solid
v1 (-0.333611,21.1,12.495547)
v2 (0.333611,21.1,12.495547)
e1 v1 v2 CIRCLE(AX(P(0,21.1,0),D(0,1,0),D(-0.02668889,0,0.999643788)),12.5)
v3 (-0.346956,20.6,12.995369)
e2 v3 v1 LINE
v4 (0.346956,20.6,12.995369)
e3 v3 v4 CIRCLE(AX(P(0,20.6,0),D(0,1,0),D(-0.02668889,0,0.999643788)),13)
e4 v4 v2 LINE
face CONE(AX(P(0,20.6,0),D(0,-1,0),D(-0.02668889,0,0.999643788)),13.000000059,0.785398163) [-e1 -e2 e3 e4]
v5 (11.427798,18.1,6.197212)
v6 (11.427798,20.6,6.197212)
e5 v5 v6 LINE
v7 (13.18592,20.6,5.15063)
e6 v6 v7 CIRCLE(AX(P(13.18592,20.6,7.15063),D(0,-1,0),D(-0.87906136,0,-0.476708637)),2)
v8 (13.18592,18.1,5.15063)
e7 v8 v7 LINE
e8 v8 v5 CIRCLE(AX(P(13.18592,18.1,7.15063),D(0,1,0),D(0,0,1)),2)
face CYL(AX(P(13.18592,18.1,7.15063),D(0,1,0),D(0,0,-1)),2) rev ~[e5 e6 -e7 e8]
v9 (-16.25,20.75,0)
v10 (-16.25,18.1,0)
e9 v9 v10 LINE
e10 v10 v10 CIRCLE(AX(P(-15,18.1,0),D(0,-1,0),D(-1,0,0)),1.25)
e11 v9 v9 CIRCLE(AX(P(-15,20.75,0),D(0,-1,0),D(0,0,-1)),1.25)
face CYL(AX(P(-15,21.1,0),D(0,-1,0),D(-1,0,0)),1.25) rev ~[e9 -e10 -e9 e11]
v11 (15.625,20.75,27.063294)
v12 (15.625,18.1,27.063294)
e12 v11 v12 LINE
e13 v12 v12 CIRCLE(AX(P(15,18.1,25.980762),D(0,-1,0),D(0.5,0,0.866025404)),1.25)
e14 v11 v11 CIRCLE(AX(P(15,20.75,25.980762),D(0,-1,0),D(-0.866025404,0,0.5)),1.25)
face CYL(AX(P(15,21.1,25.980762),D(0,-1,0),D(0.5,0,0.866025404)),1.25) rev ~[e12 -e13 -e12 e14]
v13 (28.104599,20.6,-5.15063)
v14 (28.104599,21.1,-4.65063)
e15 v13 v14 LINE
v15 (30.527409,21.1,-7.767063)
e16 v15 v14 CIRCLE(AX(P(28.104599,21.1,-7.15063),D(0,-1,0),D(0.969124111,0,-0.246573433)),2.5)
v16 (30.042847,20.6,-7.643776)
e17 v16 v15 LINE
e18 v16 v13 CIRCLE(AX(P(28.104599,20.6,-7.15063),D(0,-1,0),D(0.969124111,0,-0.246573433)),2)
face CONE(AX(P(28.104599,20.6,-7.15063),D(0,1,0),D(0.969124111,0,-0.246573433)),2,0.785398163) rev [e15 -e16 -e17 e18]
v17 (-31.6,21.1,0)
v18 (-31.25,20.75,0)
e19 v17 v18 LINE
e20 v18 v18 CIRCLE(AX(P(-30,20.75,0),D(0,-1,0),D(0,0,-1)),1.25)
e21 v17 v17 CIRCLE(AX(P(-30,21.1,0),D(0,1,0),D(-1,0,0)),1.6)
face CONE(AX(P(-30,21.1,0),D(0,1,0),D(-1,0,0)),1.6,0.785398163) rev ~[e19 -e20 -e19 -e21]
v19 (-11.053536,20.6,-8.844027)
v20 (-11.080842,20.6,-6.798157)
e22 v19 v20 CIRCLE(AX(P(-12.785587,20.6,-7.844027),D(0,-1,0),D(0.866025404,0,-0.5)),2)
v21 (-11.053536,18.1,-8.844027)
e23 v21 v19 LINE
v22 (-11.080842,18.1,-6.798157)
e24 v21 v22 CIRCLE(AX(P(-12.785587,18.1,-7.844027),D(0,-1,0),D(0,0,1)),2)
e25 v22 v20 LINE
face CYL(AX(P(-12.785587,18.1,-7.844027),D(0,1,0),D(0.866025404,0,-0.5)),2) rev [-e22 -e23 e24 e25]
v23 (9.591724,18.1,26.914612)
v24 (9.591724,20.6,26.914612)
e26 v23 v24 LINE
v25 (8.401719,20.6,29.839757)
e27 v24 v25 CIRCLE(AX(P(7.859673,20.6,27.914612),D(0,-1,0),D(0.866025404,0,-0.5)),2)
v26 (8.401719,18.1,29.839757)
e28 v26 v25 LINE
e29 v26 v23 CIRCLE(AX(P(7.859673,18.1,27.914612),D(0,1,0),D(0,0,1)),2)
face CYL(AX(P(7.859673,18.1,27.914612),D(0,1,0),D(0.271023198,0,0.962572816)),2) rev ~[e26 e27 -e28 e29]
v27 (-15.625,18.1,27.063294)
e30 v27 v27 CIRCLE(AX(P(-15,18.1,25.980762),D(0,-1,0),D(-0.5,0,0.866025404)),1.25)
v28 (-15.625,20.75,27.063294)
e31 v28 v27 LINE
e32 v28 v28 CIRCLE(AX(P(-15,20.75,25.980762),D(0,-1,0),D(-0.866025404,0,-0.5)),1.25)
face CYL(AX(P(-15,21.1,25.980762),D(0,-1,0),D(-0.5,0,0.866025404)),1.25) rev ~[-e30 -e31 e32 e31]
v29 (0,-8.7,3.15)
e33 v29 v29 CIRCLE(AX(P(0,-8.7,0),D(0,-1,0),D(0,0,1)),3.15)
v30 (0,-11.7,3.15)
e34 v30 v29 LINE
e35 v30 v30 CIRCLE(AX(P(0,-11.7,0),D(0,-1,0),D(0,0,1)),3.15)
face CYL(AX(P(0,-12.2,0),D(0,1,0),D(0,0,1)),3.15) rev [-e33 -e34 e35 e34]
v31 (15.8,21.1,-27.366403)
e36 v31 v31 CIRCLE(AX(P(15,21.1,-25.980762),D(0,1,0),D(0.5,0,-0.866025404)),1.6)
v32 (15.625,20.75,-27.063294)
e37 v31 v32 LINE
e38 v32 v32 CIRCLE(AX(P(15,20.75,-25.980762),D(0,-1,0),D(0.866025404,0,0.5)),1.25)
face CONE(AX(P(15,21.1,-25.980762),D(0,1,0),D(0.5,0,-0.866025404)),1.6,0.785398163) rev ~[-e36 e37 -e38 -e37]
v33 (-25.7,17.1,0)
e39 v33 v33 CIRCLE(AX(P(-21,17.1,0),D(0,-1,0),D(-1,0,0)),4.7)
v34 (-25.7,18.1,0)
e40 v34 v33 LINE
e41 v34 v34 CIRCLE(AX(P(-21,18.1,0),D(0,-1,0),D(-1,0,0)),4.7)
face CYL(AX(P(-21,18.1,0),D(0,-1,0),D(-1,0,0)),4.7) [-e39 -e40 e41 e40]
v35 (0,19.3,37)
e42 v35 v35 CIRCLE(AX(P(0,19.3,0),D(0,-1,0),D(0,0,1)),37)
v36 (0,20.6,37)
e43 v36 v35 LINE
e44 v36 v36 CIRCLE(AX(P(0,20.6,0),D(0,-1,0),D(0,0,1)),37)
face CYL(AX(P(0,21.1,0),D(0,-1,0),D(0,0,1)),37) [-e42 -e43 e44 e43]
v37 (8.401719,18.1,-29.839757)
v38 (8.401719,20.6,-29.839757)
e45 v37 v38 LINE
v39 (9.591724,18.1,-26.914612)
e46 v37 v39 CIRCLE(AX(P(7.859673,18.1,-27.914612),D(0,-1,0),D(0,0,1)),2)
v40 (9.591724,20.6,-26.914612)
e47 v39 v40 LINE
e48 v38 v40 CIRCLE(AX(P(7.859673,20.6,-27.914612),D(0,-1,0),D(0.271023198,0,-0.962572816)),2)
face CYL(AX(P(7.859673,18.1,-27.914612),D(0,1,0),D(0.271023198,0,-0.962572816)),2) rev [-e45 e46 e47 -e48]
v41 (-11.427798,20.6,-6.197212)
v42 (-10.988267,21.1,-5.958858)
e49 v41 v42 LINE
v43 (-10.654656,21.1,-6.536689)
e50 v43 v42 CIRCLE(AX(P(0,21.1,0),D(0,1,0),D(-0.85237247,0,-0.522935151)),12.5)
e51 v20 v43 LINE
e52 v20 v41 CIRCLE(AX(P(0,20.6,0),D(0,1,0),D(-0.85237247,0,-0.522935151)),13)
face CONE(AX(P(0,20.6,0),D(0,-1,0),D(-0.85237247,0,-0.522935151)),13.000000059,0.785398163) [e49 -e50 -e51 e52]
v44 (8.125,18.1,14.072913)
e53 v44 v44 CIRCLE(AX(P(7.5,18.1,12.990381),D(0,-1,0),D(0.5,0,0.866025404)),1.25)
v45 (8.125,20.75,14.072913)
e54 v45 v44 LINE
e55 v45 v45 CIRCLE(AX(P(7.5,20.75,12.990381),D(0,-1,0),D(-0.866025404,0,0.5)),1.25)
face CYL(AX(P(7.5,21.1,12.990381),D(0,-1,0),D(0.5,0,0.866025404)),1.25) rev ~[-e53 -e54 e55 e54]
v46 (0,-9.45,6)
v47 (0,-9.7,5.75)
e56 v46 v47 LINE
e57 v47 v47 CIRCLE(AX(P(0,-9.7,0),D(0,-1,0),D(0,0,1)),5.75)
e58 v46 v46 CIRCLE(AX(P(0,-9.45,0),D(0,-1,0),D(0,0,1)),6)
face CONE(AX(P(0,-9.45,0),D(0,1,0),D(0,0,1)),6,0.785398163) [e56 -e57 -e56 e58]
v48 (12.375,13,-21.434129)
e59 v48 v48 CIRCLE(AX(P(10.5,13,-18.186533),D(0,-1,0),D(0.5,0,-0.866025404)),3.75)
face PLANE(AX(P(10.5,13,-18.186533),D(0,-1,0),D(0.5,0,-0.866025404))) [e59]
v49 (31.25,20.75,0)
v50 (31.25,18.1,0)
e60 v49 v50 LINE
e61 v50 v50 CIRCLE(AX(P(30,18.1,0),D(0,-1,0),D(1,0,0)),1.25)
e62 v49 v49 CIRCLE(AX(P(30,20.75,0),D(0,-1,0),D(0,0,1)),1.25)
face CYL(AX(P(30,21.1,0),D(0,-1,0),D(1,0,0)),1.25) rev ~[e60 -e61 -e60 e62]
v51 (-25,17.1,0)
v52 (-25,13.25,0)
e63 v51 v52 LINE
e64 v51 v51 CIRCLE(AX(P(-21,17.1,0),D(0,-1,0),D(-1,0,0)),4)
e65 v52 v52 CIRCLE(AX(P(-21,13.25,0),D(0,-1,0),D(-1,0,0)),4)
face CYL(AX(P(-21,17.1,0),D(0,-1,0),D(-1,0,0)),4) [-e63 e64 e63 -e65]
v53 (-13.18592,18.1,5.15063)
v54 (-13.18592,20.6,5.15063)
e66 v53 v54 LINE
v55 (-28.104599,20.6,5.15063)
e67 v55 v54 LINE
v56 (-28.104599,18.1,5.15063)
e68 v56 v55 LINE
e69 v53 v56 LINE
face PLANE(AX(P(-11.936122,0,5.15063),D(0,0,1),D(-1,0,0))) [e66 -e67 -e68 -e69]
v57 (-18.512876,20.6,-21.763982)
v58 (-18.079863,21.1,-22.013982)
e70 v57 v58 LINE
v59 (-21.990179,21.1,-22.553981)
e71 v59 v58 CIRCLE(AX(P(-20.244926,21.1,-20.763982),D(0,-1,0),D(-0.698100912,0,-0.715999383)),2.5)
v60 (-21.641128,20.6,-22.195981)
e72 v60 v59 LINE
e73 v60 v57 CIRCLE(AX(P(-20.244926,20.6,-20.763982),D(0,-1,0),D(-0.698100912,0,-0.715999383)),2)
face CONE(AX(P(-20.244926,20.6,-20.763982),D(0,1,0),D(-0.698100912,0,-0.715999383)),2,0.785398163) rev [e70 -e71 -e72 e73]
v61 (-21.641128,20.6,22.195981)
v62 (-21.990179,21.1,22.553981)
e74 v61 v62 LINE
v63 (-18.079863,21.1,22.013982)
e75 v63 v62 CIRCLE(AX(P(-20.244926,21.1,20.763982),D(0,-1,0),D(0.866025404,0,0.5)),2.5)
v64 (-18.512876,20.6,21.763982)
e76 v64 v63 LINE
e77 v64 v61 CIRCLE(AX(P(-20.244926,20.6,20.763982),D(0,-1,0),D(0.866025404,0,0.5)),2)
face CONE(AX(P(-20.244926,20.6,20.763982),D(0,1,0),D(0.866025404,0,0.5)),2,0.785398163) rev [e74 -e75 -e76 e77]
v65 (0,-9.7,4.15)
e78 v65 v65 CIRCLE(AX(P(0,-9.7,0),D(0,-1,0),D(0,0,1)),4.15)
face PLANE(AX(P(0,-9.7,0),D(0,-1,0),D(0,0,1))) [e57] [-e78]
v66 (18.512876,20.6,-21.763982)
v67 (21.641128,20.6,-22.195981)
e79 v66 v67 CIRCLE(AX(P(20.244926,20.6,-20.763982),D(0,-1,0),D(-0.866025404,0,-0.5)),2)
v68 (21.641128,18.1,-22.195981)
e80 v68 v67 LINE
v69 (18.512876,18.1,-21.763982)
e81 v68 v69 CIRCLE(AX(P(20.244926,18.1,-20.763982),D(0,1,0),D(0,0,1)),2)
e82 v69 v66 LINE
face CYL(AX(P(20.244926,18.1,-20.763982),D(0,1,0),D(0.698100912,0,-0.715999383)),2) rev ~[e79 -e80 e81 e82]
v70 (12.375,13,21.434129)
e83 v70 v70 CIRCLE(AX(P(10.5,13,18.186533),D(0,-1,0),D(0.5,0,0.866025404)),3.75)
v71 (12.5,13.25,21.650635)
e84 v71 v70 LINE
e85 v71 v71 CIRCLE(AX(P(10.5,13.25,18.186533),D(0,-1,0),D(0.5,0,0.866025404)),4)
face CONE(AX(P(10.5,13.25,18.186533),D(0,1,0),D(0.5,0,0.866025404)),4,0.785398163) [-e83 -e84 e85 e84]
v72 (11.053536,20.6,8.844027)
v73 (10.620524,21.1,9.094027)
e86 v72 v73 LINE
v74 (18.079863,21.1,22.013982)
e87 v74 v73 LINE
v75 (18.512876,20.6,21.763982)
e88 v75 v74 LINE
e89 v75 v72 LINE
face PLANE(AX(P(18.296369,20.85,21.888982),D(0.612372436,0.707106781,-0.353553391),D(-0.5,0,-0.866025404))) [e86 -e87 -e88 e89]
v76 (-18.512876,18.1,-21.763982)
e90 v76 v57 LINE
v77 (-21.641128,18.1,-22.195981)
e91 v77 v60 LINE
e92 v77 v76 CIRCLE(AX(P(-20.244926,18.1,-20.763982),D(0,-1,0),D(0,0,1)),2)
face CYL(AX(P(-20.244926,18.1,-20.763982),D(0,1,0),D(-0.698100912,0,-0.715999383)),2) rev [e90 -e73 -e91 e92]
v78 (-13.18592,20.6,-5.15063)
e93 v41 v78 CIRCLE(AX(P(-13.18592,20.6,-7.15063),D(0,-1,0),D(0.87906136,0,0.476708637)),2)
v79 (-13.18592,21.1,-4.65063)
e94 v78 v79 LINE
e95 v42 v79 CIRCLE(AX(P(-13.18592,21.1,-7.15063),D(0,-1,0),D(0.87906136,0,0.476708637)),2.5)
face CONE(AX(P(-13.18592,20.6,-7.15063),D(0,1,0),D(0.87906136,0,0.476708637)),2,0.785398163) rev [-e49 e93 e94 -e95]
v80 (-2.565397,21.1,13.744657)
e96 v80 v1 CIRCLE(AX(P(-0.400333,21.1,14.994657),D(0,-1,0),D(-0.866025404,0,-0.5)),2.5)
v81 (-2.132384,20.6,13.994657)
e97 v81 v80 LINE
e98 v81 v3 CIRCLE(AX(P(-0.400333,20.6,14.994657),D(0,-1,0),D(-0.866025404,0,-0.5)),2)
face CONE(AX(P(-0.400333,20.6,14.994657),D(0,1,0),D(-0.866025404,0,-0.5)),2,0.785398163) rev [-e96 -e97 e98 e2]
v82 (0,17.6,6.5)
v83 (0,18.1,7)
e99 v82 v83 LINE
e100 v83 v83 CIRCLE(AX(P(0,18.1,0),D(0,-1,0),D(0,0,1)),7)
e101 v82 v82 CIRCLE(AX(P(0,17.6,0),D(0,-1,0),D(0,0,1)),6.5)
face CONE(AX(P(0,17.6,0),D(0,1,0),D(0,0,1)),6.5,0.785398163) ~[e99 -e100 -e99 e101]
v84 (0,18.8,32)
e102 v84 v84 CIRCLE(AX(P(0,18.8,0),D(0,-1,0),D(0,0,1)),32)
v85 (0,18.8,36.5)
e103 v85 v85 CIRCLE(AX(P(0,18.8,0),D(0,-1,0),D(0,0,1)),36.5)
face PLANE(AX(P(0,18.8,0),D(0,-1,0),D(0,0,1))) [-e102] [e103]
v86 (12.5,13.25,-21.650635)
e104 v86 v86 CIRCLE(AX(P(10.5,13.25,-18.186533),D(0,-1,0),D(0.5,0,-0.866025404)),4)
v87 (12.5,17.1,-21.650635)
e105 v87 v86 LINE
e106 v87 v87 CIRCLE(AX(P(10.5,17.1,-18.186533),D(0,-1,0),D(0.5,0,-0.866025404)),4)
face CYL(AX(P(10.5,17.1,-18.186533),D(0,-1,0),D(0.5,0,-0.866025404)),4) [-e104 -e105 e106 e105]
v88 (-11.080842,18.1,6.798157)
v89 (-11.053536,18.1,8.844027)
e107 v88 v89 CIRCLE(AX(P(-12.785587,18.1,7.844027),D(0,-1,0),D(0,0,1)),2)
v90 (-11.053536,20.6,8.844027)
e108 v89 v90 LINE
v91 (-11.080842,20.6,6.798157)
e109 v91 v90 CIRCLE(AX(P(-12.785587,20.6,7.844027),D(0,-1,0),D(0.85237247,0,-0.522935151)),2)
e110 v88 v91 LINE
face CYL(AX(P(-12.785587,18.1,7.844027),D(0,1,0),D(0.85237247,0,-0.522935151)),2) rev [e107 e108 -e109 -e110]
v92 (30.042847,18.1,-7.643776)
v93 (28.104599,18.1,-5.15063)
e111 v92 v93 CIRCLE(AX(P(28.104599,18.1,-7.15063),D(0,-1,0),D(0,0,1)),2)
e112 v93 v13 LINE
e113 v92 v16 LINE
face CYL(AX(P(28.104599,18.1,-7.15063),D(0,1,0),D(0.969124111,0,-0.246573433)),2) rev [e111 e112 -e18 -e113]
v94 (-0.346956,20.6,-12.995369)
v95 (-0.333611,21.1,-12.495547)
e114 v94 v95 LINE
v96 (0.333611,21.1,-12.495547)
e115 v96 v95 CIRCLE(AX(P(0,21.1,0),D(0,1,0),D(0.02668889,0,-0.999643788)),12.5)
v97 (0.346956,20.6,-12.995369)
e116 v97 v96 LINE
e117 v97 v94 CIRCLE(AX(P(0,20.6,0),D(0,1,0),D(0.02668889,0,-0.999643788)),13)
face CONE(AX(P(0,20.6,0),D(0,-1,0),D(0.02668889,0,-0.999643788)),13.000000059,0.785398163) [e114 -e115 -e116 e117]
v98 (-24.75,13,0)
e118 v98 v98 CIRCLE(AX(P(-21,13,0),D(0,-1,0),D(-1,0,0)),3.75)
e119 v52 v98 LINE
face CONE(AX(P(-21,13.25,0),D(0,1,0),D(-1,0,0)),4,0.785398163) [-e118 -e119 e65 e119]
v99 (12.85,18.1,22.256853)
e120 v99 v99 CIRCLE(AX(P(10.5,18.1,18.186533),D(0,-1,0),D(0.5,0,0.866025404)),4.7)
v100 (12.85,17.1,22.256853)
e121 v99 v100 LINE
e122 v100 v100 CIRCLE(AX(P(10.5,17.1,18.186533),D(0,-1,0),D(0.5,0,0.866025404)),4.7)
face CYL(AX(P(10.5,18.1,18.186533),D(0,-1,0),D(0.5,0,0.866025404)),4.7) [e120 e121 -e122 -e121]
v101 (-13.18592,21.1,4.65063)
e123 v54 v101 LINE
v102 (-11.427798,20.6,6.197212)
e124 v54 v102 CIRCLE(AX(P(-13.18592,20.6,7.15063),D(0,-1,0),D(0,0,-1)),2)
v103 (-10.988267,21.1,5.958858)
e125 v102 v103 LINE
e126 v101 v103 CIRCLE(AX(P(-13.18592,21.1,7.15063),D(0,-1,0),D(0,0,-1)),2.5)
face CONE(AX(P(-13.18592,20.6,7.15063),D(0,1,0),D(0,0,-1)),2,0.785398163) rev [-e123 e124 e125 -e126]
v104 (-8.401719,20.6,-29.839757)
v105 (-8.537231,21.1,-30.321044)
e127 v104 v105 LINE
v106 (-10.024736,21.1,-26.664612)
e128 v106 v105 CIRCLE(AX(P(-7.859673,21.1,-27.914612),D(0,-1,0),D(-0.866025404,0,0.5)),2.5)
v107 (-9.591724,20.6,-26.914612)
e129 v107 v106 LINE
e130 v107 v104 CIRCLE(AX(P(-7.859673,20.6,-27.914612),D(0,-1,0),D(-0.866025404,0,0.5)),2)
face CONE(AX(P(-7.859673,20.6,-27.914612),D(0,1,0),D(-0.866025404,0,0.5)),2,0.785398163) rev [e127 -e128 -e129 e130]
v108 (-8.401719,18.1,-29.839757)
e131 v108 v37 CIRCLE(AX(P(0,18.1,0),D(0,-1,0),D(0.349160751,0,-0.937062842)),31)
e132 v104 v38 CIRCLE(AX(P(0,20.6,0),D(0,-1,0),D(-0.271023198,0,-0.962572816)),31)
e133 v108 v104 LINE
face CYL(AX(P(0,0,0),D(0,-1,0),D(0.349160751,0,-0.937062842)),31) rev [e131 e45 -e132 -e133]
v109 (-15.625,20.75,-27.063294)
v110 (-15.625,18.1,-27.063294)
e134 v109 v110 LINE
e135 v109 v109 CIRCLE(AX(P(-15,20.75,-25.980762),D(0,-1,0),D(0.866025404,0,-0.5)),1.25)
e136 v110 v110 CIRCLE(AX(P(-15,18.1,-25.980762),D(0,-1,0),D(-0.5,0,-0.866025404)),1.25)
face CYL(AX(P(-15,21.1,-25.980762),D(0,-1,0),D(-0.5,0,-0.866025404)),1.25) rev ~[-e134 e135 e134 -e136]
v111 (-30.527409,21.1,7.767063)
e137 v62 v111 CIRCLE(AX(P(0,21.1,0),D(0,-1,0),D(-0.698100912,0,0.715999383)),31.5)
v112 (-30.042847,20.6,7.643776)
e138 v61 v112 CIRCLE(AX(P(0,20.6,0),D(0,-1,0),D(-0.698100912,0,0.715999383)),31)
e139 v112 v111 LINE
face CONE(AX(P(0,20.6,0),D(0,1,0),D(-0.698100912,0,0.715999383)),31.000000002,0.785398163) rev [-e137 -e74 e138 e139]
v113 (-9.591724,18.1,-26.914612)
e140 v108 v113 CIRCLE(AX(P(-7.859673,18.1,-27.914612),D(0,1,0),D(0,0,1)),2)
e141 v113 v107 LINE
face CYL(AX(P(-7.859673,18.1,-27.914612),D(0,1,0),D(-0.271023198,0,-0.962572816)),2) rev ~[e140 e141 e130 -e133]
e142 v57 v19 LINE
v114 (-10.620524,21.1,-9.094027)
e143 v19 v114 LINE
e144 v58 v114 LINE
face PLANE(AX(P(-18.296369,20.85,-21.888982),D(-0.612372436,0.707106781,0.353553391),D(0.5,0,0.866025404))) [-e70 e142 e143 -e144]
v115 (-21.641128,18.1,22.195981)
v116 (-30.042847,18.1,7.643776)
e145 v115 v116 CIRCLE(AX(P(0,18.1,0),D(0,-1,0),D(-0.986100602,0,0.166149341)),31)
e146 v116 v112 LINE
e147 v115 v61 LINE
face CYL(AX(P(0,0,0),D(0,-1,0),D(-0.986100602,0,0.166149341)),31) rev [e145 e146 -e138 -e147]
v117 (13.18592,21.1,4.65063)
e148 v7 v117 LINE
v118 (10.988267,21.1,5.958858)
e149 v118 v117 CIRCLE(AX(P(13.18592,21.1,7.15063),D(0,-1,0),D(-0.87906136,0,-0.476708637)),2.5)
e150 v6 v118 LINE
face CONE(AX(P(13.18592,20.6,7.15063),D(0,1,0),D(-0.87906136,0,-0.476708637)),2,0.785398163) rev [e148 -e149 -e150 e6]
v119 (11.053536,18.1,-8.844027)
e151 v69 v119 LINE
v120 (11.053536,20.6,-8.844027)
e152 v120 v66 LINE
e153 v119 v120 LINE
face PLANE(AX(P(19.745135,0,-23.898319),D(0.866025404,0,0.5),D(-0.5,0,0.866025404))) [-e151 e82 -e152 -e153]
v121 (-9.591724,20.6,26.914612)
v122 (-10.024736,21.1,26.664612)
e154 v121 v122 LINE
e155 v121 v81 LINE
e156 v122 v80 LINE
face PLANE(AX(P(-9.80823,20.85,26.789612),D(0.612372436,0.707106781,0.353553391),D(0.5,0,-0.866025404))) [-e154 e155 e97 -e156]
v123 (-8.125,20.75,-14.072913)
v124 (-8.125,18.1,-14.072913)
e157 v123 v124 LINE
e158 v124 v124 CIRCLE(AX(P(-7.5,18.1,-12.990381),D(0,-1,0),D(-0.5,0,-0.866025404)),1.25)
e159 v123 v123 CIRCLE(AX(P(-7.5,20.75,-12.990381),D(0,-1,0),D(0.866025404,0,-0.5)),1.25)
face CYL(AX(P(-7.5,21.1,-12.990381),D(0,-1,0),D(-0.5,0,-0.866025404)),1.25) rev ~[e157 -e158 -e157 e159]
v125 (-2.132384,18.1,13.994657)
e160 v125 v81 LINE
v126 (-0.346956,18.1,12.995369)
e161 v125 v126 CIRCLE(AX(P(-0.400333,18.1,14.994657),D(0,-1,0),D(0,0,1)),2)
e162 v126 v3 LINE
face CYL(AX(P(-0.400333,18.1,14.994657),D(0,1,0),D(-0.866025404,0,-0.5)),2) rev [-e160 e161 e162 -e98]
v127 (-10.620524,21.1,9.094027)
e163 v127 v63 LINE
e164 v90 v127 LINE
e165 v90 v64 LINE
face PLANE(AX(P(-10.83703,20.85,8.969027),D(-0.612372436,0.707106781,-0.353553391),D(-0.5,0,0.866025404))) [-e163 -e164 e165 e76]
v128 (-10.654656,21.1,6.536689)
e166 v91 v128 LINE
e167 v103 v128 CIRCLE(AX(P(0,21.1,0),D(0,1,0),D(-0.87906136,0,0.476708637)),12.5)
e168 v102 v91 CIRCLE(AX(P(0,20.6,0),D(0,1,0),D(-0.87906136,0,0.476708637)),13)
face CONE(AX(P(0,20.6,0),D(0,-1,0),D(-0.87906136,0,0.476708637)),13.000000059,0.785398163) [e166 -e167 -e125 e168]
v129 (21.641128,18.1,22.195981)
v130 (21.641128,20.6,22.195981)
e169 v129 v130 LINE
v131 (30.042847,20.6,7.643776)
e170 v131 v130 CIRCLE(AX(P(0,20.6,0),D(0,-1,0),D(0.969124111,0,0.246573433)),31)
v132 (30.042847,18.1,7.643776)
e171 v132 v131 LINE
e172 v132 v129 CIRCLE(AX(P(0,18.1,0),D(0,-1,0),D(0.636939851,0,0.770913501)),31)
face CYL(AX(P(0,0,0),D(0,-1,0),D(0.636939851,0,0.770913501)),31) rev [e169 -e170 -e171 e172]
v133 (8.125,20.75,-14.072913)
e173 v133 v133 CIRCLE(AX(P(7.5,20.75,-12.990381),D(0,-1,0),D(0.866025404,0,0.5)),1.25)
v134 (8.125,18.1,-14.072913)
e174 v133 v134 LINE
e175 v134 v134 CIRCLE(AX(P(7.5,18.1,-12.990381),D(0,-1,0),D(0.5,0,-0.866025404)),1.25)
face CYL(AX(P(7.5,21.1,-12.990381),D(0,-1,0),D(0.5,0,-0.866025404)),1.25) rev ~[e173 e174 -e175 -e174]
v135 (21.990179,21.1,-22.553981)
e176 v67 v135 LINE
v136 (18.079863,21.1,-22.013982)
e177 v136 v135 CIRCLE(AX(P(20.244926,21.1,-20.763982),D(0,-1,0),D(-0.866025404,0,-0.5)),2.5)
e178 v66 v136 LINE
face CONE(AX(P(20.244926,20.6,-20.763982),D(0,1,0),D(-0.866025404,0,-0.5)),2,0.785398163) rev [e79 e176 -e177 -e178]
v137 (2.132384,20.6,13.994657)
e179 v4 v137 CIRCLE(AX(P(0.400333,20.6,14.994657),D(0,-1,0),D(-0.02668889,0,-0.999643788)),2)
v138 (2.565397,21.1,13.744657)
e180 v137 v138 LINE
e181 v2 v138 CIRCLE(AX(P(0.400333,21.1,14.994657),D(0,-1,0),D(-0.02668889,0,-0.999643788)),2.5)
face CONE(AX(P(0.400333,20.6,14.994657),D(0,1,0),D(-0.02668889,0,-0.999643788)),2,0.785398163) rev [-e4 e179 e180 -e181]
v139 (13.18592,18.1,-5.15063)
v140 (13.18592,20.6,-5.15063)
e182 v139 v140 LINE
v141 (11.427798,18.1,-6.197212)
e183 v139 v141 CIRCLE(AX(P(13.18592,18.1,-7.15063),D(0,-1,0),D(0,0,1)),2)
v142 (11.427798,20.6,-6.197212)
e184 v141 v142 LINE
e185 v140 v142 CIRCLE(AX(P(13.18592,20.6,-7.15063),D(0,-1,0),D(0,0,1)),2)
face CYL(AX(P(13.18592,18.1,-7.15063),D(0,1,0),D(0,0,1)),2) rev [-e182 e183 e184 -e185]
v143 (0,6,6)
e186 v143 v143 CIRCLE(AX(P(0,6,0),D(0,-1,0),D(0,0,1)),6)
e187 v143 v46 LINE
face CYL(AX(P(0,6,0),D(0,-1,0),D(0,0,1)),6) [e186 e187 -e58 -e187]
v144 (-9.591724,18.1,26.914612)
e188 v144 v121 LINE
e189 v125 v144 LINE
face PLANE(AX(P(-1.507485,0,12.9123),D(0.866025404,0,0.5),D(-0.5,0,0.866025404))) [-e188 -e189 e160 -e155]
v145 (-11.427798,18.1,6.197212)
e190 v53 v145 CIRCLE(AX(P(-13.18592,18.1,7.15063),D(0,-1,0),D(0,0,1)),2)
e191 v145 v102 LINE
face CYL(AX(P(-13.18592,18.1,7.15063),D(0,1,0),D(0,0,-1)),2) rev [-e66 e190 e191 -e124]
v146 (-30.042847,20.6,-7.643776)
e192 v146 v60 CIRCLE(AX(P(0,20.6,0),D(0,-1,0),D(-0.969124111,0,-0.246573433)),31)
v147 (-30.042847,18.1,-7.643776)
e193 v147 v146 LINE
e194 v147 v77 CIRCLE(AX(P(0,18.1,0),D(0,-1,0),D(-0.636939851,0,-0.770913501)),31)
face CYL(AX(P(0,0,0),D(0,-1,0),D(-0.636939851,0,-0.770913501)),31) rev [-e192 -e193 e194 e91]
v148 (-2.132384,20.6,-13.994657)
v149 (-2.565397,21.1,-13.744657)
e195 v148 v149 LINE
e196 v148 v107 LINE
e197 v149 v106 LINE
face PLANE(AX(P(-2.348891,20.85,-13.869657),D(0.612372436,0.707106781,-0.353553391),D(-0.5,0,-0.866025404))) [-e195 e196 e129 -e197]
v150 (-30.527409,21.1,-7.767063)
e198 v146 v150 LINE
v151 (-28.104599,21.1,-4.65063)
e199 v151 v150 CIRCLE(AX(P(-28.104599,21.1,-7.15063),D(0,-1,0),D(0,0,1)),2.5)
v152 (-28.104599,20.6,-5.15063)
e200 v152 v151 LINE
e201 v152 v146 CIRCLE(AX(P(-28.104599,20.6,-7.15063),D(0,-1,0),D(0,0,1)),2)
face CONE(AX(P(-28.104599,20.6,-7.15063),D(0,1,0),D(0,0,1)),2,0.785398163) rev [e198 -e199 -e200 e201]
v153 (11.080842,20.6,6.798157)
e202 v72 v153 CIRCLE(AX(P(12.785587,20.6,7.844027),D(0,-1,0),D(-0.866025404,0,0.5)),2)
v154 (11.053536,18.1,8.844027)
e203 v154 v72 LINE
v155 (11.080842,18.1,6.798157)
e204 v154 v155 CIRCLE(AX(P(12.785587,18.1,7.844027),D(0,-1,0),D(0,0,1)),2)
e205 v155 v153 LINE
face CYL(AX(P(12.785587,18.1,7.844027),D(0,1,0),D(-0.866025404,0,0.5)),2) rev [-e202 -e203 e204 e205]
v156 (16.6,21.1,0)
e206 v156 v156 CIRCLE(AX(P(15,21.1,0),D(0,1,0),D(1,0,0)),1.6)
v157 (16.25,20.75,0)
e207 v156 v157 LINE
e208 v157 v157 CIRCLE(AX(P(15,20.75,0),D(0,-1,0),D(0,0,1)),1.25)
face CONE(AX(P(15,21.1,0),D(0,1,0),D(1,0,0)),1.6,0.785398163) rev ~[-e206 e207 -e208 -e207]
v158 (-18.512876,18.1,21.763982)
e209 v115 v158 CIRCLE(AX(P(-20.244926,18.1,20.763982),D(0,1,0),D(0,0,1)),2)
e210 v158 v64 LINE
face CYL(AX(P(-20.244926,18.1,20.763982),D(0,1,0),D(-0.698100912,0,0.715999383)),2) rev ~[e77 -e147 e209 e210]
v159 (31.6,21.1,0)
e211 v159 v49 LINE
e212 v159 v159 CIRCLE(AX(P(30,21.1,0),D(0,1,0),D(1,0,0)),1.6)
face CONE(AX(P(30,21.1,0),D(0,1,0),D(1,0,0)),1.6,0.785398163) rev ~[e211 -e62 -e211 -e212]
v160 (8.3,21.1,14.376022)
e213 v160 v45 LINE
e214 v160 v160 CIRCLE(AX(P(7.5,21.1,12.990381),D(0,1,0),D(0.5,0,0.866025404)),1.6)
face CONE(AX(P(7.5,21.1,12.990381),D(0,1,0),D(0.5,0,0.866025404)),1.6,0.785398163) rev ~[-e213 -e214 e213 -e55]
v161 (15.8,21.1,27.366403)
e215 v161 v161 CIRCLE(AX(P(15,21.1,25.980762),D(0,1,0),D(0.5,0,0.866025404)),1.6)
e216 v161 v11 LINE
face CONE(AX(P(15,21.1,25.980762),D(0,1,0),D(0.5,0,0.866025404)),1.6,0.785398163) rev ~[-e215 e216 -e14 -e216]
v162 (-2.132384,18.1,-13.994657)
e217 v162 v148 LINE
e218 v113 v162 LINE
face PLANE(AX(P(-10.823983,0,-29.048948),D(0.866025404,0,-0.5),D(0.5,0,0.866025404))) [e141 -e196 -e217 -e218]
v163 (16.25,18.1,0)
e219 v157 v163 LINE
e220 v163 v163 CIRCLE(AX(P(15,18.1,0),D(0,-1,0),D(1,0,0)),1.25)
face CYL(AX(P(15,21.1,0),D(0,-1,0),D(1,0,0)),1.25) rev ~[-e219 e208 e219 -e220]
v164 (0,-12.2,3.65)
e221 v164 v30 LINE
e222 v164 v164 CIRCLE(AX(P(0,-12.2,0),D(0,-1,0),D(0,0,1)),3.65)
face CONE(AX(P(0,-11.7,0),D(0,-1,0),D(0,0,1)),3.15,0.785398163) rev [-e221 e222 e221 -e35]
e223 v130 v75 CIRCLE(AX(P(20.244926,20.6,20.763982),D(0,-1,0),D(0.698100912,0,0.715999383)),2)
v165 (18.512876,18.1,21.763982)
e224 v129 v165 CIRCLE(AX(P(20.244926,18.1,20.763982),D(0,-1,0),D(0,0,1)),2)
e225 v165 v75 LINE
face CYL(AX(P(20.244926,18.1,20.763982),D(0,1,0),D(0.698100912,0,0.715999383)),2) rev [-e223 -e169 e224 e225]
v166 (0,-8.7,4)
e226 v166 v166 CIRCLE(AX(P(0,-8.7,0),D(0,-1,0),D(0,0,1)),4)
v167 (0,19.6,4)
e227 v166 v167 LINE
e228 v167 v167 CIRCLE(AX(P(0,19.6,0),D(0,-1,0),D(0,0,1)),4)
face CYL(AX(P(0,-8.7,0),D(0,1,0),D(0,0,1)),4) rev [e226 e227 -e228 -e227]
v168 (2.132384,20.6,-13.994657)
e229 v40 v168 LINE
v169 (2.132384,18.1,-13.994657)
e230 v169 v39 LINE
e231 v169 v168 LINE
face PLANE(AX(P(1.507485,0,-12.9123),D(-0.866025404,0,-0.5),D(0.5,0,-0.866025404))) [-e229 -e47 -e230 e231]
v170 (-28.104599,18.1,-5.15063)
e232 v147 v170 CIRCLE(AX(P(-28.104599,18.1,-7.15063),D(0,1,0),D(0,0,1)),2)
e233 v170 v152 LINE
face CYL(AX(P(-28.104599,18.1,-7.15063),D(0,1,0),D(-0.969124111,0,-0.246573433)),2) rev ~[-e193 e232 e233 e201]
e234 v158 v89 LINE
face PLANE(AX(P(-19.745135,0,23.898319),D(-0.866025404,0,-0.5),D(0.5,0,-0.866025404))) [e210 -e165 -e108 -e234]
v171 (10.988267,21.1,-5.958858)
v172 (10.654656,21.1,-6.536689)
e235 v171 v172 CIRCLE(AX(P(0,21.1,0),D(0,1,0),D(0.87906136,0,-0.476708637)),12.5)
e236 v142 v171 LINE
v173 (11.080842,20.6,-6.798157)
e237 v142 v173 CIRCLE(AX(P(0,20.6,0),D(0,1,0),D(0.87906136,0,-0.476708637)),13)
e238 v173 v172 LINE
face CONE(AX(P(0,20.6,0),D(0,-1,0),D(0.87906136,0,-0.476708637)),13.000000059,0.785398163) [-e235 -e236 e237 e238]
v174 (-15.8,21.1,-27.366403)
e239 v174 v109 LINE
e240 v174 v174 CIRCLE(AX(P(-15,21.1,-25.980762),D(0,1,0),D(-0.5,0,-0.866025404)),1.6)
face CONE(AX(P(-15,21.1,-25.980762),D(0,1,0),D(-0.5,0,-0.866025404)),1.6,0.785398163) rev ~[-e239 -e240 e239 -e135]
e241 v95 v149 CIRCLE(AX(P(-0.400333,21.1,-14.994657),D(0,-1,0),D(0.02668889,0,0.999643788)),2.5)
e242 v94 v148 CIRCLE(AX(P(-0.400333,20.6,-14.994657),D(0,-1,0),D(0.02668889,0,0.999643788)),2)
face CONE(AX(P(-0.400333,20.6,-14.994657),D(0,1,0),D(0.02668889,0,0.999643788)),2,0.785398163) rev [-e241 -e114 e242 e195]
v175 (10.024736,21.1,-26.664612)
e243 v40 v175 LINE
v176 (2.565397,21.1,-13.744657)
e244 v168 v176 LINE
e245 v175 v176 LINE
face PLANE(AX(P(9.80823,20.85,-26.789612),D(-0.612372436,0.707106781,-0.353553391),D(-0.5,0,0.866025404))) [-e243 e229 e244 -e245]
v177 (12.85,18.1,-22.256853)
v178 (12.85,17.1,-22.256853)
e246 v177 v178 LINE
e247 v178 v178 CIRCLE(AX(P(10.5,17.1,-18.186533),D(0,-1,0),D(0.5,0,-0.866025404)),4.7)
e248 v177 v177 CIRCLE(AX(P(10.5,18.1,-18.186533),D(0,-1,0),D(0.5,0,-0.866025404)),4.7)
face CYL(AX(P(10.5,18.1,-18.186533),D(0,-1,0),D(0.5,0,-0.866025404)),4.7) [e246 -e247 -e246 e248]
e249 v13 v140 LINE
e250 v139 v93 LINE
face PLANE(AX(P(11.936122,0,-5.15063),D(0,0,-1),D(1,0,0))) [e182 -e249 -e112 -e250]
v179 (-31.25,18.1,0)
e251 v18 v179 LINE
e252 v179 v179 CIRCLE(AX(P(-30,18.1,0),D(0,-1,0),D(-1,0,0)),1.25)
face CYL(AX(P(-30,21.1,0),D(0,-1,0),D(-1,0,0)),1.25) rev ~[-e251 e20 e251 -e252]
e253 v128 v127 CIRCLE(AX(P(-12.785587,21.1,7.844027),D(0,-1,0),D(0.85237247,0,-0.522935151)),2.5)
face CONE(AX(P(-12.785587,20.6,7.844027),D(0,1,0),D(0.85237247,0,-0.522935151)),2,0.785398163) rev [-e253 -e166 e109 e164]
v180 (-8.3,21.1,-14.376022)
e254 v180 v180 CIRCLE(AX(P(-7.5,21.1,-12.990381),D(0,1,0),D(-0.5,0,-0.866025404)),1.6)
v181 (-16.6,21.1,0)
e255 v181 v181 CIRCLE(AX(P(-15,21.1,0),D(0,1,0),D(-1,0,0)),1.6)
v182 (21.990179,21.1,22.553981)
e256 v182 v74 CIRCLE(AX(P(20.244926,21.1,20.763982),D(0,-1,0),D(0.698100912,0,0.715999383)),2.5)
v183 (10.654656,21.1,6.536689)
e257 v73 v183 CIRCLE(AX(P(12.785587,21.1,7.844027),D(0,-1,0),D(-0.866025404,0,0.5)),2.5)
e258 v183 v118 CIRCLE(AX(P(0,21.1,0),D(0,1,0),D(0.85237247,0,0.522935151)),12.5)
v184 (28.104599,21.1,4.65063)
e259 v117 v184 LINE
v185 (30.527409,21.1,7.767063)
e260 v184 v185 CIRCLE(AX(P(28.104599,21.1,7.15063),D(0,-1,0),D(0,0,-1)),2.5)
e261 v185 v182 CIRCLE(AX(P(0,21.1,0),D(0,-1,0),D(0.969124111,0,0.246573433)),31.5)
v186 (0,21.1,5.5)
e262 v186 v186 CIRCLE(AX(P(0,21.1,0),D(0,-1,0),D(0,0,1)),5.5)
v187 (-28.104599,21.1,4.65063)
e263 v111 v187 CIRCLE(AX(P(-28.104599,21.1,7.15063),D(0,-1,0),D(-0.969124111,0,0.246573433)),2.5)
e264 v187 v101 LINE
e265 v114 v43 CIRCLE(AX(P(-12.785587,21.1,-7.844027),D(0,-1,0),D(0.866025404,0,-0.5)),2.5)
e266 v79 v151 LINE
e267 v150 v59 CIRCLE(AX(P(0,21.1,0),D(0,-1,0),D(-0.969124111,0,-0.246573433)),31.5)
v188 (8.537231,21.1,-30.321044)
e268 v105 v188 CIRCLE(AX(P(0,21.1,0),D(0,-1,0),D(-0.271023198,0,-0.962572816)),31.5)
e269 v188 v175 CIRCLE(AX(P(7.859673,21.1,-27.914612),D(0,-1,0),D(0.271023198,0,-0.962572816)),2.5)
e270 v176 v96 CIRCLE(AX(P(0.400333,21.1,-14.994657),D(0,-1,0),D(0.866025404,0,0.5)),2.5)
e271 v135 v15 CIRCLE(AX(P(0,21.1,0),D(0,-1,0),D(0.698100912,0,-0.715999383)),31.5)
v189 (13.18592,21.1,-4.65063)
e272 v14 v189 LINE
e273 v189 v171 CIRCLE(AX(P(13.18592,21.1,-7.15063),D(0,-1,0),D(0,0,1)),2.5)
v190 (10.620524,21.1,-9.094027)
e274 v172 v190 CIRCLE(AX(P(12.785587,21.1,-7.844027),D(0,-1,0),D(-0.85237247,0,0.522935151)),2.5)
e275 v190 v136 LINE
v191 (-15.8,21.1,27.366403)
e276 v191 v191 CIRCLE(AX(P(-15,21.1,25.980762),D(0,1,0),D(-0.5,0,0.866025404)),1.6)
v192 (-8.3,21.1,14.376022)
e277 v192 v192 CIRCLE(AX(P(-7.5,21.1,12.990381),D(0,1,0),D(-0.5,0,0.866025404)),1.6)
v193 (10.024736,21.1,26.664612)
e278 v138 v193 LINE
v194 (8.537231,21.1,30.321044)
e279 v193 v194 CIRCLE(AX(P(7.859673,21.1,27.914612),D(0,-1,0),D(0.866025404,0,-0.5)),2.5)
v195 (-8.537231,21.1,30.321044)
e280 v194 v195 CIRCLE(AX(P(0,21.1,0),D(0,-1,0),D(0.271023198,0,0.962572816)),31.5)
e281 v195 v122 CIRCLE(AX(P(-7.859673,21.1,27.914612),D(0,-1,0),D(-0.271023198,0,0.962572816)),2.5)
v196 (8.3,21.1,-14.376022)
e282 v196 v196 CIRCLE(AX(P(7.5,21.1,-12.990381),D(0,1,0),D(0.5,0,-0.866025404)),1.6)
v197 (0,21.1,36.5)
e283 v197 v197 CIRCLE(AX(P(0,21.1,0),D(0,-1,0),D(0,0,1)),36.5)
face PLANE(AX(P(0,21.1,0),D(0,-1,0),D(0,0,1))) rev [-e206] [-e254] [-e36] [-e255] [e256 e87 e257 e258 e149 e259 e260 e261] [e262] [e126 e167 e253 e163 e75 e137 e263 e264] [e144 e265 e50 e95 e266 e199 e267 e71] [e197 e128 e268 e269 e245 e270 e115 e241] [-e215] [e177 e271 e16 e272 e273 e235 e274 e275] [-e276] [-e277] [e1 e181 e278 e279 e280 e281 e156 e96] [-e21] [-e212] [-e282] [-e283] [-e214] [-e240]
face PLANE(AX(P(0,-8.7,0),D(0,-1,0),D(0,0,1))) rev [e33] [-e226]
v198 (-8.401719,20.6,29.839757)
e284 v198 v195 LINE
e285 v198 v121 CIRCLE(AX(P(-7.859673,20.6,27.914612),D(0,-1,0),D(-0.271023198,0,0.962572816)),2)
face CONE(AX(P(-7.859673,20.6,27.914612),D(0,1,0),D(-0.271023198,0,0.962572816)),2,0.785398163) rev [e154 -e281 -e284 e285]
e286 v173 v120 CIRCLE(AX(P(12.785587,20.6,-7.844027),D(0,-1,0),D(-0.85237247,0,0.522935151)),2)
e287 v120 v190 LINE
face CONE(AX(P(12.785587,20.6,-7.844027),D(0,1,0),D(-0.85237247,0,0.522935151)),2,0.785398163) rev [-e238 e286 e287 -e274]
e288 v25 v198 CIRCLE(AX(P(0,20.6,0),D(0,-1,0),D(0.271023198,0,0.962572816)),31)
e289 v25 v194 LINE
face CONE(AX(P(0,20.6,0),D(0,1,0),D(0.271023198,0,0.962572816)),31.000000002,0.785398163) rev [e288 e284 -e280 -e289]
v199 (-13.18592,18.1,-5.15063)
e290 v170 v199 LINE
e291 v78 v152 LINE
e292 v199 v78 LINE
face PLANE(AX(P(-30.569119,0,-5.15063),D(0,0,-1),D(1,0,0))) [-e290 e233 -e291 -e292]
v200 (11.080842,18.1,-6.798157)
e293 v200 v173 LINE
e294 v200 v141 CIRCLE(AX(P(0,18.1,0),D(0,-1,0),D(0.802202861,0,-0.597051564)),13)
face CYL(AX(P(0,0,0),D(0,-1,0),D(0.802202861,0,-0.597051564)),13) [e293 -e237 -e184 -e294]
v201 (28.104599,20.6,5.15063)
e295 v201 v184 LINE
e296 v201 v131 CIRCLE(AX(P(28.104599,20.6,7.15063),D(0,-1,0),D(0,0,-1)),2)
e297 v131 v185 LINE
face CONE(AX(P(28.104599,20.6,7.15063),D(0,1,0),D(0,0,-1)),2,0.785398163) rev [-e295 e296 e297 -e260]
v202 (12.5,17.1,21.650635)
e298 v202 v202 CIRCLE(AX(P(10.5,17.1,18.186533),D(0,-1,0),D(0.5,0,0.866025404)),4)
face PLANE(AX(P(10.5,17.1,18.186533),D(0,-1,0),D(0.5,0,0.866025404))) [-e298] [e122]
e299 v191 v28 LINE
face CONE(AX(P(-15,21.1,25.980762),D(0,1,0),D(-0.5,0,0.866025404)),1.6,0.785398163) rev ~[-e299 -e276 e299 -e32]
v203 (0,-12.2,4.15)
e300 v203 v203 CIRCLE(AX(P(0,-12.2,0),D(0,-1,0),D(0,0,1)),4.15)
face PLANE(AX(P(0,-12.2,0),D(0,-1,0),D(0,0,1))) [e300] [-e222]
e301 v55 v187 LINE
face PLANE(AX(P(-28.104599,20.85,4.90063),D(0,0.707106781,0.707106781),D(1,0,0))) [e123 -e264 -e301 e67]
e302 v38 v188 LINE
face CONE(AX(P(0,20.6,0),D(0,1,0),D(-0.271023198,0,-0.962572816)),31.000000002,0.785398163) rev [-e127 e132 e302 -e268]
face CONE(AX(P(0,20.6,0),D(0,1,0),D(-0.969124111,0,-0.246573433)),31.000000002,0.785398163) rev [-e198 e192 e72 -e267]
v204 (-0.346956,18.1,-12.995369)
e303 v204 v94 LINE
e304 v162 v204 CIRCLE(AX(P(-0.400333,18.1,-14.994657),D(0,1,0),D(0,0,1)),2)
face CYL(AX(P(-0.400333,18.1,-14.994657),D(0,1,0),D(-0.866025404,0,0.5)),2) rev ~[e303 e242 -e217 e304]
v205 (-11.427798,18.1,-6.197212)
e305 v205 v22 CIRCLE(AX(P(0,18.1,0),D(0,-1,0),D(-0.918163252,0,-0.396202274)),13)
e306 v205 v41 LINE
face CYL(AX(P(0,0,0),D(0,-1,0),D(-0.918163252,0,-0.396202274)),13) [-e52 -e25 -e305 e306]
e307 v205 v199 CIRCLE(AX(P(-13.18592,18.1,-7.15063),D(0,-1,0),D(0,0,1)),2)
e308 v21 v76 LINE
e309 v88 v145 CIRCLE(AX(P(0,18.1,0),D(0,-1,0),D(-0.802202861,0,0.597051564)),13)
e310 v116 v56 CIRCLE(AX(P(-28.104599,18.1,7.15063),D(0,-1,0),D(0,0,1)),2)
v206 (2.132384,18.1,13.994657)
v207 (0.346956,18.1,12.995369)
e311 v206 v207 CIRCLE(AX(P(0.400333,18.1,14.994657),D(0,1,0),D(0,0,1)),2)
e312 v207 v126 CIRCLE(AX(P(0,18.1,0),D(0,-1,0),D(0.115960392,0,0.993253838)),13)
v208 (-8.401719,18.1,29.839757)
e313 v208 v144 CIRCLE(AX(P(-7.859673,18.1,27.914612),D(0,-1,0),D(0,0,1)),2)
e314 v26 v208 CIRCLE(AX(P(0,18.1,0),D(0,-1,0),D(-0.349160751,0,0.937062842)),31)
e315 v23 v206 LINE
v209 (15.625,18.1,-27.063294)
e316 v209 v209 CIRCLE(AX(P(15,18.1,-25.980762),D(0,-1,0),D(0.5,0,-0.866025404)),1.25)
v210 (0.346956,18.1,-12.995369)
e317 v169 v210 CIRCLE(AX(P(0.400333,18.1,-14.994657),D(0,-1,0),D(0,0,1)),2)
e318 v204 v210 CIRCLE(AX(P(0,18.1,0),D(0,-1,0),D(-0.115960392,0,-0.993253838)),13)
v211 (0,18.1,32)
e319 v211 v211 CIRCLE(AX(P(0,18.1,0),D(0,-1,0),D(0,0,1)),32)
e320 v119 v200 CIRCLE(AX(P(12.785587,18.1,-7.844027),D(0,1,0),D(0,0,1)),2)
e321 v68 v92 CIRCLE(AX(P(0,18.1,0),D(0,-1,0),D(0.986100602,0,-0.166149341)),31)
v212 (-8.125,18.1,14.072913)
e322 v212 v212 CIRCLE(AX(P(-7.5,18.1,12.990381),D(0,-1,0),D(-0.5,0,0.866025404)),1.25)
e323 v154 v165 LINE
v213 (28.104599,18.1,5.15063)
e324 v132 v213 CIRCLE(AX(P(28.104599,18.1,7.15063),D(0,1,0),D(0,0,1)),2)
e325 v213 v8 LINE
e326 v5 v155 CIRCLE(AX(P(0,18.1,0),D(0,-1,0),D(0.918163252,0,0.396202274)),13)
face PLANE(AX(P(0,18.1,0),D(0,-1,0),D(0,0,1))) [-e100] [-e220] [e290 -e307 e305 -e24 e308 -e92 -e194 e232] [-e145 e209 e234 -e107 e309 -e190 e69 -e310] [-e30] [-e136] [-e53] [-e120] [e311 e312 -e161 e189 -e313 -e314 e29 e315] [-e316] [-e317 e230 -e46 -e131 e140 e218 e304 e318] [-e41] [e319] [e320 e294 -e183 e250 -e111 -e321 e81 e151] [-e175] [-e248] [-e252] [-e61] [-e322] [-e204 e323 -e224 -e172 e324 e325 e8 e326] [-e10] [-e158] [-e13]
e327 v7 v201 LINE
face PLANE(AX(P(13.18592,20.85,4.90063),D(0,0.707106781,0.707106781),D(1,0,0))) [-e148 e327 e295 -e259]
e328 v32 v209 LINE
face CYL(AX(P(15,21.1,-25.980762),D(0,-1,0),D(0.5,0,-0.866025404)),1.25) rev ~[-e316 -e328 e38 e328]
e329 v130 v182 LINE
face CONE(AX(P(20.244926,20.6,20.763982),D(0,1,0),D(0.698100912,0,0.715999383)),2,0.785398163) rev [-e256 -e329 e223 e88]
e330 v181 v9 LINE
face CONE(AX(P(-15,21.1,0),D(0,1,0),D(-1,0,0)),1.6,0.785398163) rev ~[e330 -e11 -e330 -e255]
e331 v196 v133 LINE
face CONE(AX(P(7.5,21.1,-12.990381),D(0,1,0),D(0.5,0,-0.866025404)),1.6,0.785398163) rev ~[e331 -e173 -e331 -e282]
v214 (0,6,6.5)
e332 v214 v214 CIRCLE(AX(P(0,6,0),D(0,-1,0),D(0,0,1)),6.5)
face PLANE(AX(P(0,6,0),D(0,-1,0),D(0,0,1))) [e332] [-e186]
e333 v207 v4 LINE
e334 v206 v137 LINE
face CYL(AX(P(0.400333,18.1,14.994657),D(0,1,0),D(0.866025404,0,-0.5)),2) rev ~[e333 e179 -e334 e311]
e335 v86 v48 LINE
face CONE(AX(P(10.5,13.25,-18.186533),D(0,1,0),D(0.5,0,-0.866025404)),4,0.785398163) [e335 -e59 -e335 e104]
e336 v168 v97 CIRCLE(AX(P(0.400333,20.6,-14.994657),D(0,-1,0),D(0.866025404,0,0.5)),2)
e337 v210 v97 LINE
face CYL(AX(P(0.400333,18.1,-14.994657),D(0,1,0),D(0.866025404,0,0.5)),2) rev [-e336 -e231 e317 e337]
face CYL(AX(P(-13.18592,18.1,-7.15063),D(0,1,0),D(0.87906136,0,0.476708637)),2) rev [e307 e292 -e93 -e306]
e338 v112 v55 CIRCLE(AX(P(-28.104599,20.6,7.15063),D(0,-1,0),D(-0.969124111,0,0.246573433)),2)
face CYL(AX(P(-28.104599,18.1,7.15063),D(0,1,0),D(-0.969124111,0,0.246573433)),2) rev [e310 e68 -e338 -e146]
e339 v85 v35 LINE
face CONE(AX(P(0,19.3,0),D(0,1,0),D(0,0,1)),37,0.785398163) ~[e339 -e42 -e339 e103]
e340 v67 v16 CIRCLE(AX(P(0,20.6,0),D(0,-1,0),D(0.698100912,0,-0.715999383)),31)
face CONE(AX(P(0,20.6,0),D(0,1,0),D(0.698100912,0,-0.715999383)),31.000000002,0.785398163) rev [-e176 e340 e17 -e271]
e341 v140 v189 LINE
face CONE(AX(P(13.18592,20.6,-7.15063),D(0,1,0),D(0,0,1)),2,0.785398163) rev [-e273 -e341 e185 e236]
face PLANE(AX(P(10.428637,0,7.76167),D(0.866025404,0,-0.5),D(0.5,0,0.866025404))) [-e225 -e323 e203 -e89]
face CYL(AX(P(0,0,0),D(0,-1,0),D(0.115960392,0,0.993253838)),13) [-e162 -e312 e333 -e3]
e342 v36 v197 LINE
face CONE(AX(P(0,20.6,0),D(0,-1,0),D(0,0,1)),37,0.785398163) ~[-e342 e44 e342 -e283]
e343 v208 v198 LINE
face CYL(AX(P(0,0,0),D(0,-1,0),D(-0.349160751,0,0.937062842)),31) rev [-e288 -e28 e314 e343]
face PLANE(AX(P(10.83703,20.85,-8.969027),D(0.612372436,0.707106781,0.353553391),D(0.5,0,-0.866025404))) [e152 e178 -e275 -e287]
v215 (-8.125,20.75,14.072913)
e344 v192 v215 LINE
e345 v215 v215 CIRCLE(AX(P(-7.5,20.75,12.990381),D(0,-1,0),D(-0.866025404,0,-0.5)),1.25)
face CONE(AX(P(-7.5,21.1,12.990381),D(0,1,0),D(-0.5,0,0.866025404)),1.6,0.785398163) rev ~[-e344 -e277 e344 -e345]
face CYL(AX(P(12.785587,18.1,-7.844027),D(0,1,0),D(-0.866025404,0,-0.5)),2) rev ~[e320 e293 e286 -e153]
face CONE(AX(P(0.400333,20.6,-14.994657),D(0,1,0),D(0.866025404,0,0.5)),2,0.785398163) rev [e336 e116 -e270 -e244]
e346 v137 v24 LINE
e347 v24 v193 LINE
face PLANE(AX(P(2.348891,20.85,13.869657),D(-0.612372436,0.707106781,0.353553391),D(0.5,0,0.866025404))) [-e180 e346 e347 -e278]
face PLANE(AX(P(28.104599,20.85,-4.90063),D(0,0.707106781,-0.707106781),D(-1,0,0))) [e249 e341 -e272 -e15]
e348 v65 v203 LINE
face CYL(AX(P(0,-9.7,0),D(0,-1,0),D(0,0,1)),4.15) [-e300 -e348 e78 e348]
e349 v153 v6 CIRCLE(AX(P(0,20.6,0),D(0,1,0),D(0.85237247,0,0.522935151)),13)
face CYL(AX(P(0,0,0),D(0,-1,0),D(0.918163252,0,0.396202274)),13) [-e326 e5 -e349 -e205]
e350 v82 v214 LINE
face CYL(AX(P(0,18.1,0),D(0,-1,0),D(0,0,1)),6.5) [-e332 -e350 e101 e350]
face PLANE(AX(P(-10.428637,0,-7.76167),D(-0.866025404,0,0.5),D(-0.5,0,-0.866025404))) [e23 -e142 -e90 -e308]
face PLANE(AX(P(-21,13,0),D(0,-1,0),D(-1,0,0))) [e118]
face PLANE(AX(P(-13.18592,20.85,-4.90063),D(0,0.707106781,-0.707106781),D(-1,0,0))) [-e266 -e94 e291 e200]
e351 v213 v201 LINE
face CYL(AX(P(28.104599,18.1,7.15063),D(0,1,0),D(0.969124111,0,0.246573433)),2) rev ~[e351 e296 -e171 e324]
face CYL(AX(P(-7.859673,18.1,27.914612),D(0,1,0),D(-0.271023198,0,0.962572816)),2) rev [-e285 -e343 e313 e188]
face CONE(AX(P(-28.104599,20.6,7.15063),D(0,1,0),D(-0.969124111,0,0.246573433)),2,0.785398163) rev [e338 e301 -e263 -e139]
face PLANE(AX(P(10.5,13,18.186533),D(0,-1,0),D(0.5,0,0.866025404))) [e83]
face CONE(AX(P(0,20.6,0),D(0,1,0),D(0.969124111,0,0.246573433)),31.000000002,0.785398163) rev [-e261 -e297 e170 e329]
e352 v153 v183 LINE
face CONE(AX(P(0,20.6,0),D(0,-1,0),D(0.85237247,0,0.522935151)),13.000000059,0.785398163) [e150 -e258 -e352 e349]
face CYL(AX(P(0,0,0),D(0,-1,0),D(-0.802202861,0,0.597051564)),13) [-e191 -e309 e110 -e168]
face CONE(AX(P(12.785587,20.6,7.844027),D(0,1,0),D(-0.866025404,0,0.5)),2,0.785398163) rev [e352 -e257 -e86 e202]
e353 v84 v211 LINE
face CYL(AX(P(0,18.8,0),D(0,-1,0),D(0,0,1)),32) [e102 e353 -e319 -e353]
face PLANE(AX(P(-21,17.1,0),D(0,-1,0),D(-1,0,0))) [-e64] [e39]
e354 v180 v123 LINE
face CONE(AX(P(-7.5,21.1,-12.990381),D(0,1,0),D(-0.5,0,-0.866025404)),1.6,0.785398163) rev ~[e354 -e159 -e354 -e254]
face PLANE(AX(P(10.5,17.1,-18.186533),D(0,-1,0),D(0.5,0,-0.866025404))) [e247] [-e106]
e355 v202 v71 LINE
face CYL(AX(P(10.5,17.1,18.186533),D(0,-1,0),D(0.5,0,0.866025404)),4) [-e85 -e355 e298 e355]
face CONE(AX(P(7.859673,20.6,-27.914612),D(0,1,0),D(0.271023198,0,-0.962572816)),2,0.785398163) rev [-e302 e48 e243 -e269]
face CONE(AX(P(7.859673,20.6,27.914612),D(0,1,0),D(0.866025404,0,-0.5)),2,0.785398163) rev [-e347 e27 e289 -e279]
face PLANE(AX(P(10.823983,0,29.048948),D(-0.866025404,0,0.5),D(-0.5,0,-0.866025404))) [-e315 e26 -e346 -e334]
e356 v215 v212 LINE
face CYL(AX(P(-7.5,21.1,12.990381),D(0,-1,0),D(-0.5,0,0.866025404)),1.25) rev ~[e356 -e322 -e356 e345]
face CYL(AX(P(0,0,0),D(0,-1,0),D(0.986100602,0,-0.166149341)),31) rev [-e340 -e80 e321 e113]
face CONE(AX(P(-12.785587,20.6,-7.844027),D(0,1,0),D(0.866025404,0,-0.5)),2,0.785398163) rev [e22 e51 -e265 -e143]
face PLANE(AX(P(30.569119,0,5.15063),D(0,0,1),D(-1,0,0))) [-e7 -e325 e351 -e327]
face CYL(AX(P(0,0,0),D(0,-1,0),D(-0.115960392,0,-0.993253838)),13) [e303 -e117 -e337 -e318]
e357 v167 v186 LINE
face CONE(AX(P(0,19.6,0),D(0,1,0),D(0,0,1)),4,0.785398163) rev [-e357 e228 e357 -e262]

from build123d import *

# Parameters (mm, degrees)
CHAMFER1_SIZE                   = 0.5
CHAMFER2_SIZE                   = 0.25
CIRPATTERN1_COUNT               = 3
CHAMFER2_OF_CIRPATTERN1_SIZE    = 0.25
CHAMFER3_SIZE                   = 0.25
CHAMFER4_SIZE                   = 0.5
M3X0_5_TAPPED_HOLE1_D           = 2.5
M3X0_5_TAPPED_HOLE1_CSINK_D     = 3.2
M3X0_5_TAPPED_HOLE1_CSINK_ANGLE = 90
M3X0_5_TAPPED_HOLE2_D           = 2.5
M3X0_5_TAPPED_HOLE2_CSINK_D     = 3.2
M3X0_5_TAPPED_HOLE2_CSINK_ANGLE = 90
CIRPATTERN2_COUNT               = 6
CUT_EXTRUDE1_DEPTH              = 57.419943282
FILLET1_R                       = 2
CHAMFER5_SIZE                   = 0.5
CIRPATTERN3_COUNT               = 6
FILLET1_OF_CIRPATTERN3_R        = 2
CHAMFER5_OF_CIRPATTERN3_SIZE    = 0.5


with BuildPart() as part:
    # Sketch1 → Revolve1 (revolve)
    with BuildSketch(Plane.XY):
        Polygon((-3.15, -8.7), (-4, -8.7), (-4, 19.6), (-5.5, 21.1), (-37, 21.1), (-37, 18.8), (-32, 18.8), (-32, 18.1), (-6.5, 18.1), (-6.5, 6), (-6, 6), (-6, 5.15), (-6, -6), (-6, -7.1), (-6, -9.7), (-4.15, -9.7), (-4.15, -12.2), (-3.15, -12.2), align=None)
    revolve(axis=Axis((0, 0, 0), (0, -1, 0)))

    # Chamfer1
    chamfer1_edges = [part.edges().sort_by_distance(p)[0] for p in [
        (3.15, -12.2, 0),
    ]]
    chamfer(chamfer1_edges, length=CHAMFER1_SIZE)

    # Sketch2 → Planet bearing axis (revolve)
    with BuildSketch(Plane.XY):
        Polygon((-21, 18.1), (-25.7, 18.1), (-25.7, 17.1), (-25, 17.1), (-25, 13), (-21, 13), align=None)
    planet_bearing_axis = revolve(axis=Axis((-21, 33.164090746, 0), (0, -1, 0)))

    # Chamfer2
    chamfer2_edges = [part.edges().sort_by_distance(p)[0] for p in [
        (-17, 13, 0),
    ]]
    chamfer(chamfer2_edges, length=CHAMFER2_SIZE)

    # CirPattern1: Planet bearing axis ×3 about axis
    cirpattern1_axis = Axis((0, 0, 0), (0, 1, 0))
    for i in range(1, CIRPATTERN1_COUNT):
        add(planet_bearing_axis.rotate(cirpattern1_axis, i * 360 / CIRPATTERN1_COUNT))

    # Chamfer2 of CirPattern1
    chamfer2_of_cirpattern1_edges = [part.edges().sort_by_distance(p)[0] for p in [
        (8.5, 13, 14.722431864),
        (8.5, 13, -14.722431864),
    ]]
    chamfer(chamfer2_of_cirpattern1_edges, length=CHAMFER2_OF_CIRPATTERN1_SIZE)

    # Chamfer3
    chamfer3_edges = [part.edges().sort_by_distance(p)[0] for p in [
        (6, -9.7, 0),
    ]]
    chamfer(chamfer3_edges, length=CHAMFER3_SIZE)

    # Chamfer4
    chamfer4_edges = [part.edges().sort_by_distance(p)[0] for p in [
        (37, 21.1, 0),
        (37, 18.8, 0),
        (6.5, 18.1, 0),
    ]]
    chamfer(chamfer4_edges, length=CHAMFER4_SIZE)

    # M3x0.5 Tapped Hole1 (through all)
    with Locations(Plane(origin=(0, 21.1, 0), x_dir=(1, 0, 0), z_dir=(0, 1, 0))):
        with Locations((-30, 0)):
            m3x0_5_tapped_hole1 = CounterSinkHole(M3X0_5_TAPPED_HOLE1_D / 2, M3X0_5_TAPPED_HOLE1_CSINK_D / 2, counter_sink_angle=M3X0_5_TAPPED_HOLE1_CSINK_ANGLE)

    # M3x0.5 Tapped Hole2 (through all)
    with Locations(Plane(origin=(0, 21.1, 0), x_dir=(1, 0, 0), z_dir=(0, 1, 0))):
        with Locations((-15, 0)):
            m3x0_5_tapped_hole2 = CounterSinkHole(M3X0_5_TAPPED_HOLE2_D / 2, M3X0_5_TAPPED_HOLE2_CSINK_D / 2, counter_sink_angle=M3X0_5_TAPPED_HOLE2_CSINK_ANGLE)

    # CirPattern2: M3x0.5 Tapped Hole1, M3x0.5 Tapped Hole2 ×6 about axis
    cirpattern2_axis = Axis((0, 0, 0), (0, 1, 0))
    add([m3x0_5_tapped_hole1.rotate(cirpattern2_axis, i * 360 / CIRPATTERN2_COUNT) for i in range(1, CIRPATTERN2_COUNT)], mode=Mode.SUBTRACT)
    add([m3x0_5_tapped_hole2.rotate(cirpattern2_axis, i * 360 / CIRPATTERN2_COUNT) for i in range(1, CIRPATTERN2_COUNT)], mode=Mode.SUBTRACT)

    # Sketch7 → Cut-Extrude1 (cut, through all)
    with BuildSketch(Plane(origin=(0, 0, 0), x_dir=(1, 0, 0), z_dir=(0, 1, 0))):
        with BuildLine():
            Line((-19.745135369, -23.898318544), (-10.428637185, -7.76167034))
            ThreePointArc((-10.428637185, -7.76167034), (-11.258330249, -6.5), (-11.936122283, -5.150629559))
            Line((-11.936122283, -5.150629559), (-30.569118652, -5.150629559))
            ThreePointArc((-30.569118652, -5.150629559), (-26.846787517, -15.5), (-19.745135369, -23.898318544))
        make_face()
    cut_extrude1 = extrude(amount=CUT_EXTRUDE1_DEPTH, mode=Mode.SUBTRACT)

    # Fillet1
    fillet1_edges = [part.edges().sort_by_distance(p)[0] for p in [
        (-19.745135369, 19.6, 23.898318544),
        (-30.569118652, 19.6, 5.150629559),
        (-10.428637185, 19.6, 7.76167034),
        (-11.936122283, 19.6, 5.150629559),
    ]]
    fillet(fillet1_edges, radius=FILLET1_R)

    # Chamfer5
    chamfer5_edges = [part.edges().sort_by_distance(p)[0] for p in [
        (-14.783205948, 21.1, 15.304004683),
        (-10.785765167, 21.1, 7.817335996),
        (-19.971331194, 21.1, 22.745180132),
        (-11.258330249, 21.1, 6.5),
        (-26.846787517, 21.1, 15.5),
        (-12.162894146, 21.1, 5.432078636),
        (-29.683569404, 21.1, 5.923090095),
        (-20.645259809, 21.1, 5.150629559),
    ]]
    chamfer(chamfer5_edges, length=CHAMFER5_SIZE)

    # CirPattern3: Cut-Extrude1 ×6 about axis
    cirpattern3_axis = Axis((0, 0, 0), (0, 1, 0))
    for i in range(1, CIRPATTERN3_COUNT):
        add(cut_extrude1.rotate(cirpattern3_axis, i * 360 / CIRPATTERN3_COUNT), mode=Mode.SUBTRACT)

    # Fillet1 of CirPattern3
    fillet1_of_cirpattern3_edges = [part.edges().sort_by_distance(p)[0] for p in [
        (10.823983283, 19.6, 29.048948103),
        (-10.823983283, 19.6, 29.048948103),
        (1.507485098, 19.6, 12.912299899),
        (-1.507485098, 19.6, 12.912299899),
        (30.569118652, 19.6, 5.150629559),
        (19.745135369, 19.6, 23.898318544),
        (11.936122283, 19.6, 5.150629559),
        (10.428637185, 19.6, 7.76167034),
        (19.745135369, 19.6, -23.898318544),
        (30.569118652, 19.6, -5.150629559),
        (10.428637185, 19.6, -7.76167034),
        (11.936122283, 19.6, -5.150629559),
        (-10.823983283, 19.6, -29.048948103),
        (10.823983283, 19.6, -29.048948103),
        (-1.507485098, 19.6, -12.912299899),
        (1.507485098, 19.6, -12.912299899),
        (-30.569118652, 19.6, -5.150629559),
        (-19.745135369, 19.6, -23.898318544),
        (-11.936122283, 19.6, -5.150629559),
        (-10.428637185, 19.6, -7.76167034),
    ]]
    fillet(fillet1_of_cirpattern3_edges, radius=FILLET1_OF_CIRPATTERN3_R)

    # Chamfer5 of CirPattern3
    chamfer5_of_cirpattern3_edges = [part.edges().sort_by_distance(p)[0] for p in [
        (5.862053861, 21.1, 20.454634241),
        (1.377128979, 21.1, 13.249414632),
        (9.712238211, 21.1, 28.668270227),
        (0, 21.1, 13),
        (0, 21.1, 31),
        (-1.377128979, 21.1, 13.249414632),
        (-9.712238211, 21.1, 28.668270227),
        (-5.862053861, 21.1, 20.454634241),
        (20.645259809, 21.1, 5.150629559),
        (12.162894146, 21.1, 5.432078636),
        (29.683569404, 21.1, 5.923090095),
        (11.258330249, 21.1, 6.5),
        (26.846787517, 21.1, 15.5),
        (10.785765167, 21.1, 7.817335996),
        (19.971331194, 21.1, 22.745180132),
        (14.783205948, 21.1, 15.304004683),
        (14.783205948, 21.1, -15.304004683),
        (10.785765167, 21.1, -7.817335996),
        (19.971331194, 21.1, -22.745180132),
        (11.258330249, 21.1, -6.5),
        (26.846787517, 21.1, -15.5),
        (12.162894146, 21.1, -5.432078636),
        (29.683569404, 21.1, -5.923090095),
        (20.645259809, 21.1, -5.150629559),
        (-5.862053861, 21.1, -20.454634241),
        (-1.377128979, 21.1, -13.249414632),
        (-9.712238211, 21.1, -28.668270227),
        (0, 21.1, -13),
        (0, 21.1, -31),
        (1.377128979, 21.1, -13.249414632),
        (9.712238211, 21.1, -28.668270227),
        (5.862053861, 21.1, -20.454634241),
        (-20.645259809, 21.1, -5.150629559),
        (-12.162894146, 21.1, -5.432078636),
        (-29.683569404, 21.1, -5.923090095),
        (-11.258330249, 21.1, -6.5),
        (-26.846787517, 21.1, -15.5),
        (-10.785765167, 21.1, -7.817335996),
        (-19.971331194, 21.1, -22.745180132),
        (-14.783205948, 21.1, -15.304004683),
    ]]
    chamfer(chamfer5_of_cirpattern3_edges, length=CHAMFER5_OF_CIRPATTERN3_SIZE)


solid = part.part
